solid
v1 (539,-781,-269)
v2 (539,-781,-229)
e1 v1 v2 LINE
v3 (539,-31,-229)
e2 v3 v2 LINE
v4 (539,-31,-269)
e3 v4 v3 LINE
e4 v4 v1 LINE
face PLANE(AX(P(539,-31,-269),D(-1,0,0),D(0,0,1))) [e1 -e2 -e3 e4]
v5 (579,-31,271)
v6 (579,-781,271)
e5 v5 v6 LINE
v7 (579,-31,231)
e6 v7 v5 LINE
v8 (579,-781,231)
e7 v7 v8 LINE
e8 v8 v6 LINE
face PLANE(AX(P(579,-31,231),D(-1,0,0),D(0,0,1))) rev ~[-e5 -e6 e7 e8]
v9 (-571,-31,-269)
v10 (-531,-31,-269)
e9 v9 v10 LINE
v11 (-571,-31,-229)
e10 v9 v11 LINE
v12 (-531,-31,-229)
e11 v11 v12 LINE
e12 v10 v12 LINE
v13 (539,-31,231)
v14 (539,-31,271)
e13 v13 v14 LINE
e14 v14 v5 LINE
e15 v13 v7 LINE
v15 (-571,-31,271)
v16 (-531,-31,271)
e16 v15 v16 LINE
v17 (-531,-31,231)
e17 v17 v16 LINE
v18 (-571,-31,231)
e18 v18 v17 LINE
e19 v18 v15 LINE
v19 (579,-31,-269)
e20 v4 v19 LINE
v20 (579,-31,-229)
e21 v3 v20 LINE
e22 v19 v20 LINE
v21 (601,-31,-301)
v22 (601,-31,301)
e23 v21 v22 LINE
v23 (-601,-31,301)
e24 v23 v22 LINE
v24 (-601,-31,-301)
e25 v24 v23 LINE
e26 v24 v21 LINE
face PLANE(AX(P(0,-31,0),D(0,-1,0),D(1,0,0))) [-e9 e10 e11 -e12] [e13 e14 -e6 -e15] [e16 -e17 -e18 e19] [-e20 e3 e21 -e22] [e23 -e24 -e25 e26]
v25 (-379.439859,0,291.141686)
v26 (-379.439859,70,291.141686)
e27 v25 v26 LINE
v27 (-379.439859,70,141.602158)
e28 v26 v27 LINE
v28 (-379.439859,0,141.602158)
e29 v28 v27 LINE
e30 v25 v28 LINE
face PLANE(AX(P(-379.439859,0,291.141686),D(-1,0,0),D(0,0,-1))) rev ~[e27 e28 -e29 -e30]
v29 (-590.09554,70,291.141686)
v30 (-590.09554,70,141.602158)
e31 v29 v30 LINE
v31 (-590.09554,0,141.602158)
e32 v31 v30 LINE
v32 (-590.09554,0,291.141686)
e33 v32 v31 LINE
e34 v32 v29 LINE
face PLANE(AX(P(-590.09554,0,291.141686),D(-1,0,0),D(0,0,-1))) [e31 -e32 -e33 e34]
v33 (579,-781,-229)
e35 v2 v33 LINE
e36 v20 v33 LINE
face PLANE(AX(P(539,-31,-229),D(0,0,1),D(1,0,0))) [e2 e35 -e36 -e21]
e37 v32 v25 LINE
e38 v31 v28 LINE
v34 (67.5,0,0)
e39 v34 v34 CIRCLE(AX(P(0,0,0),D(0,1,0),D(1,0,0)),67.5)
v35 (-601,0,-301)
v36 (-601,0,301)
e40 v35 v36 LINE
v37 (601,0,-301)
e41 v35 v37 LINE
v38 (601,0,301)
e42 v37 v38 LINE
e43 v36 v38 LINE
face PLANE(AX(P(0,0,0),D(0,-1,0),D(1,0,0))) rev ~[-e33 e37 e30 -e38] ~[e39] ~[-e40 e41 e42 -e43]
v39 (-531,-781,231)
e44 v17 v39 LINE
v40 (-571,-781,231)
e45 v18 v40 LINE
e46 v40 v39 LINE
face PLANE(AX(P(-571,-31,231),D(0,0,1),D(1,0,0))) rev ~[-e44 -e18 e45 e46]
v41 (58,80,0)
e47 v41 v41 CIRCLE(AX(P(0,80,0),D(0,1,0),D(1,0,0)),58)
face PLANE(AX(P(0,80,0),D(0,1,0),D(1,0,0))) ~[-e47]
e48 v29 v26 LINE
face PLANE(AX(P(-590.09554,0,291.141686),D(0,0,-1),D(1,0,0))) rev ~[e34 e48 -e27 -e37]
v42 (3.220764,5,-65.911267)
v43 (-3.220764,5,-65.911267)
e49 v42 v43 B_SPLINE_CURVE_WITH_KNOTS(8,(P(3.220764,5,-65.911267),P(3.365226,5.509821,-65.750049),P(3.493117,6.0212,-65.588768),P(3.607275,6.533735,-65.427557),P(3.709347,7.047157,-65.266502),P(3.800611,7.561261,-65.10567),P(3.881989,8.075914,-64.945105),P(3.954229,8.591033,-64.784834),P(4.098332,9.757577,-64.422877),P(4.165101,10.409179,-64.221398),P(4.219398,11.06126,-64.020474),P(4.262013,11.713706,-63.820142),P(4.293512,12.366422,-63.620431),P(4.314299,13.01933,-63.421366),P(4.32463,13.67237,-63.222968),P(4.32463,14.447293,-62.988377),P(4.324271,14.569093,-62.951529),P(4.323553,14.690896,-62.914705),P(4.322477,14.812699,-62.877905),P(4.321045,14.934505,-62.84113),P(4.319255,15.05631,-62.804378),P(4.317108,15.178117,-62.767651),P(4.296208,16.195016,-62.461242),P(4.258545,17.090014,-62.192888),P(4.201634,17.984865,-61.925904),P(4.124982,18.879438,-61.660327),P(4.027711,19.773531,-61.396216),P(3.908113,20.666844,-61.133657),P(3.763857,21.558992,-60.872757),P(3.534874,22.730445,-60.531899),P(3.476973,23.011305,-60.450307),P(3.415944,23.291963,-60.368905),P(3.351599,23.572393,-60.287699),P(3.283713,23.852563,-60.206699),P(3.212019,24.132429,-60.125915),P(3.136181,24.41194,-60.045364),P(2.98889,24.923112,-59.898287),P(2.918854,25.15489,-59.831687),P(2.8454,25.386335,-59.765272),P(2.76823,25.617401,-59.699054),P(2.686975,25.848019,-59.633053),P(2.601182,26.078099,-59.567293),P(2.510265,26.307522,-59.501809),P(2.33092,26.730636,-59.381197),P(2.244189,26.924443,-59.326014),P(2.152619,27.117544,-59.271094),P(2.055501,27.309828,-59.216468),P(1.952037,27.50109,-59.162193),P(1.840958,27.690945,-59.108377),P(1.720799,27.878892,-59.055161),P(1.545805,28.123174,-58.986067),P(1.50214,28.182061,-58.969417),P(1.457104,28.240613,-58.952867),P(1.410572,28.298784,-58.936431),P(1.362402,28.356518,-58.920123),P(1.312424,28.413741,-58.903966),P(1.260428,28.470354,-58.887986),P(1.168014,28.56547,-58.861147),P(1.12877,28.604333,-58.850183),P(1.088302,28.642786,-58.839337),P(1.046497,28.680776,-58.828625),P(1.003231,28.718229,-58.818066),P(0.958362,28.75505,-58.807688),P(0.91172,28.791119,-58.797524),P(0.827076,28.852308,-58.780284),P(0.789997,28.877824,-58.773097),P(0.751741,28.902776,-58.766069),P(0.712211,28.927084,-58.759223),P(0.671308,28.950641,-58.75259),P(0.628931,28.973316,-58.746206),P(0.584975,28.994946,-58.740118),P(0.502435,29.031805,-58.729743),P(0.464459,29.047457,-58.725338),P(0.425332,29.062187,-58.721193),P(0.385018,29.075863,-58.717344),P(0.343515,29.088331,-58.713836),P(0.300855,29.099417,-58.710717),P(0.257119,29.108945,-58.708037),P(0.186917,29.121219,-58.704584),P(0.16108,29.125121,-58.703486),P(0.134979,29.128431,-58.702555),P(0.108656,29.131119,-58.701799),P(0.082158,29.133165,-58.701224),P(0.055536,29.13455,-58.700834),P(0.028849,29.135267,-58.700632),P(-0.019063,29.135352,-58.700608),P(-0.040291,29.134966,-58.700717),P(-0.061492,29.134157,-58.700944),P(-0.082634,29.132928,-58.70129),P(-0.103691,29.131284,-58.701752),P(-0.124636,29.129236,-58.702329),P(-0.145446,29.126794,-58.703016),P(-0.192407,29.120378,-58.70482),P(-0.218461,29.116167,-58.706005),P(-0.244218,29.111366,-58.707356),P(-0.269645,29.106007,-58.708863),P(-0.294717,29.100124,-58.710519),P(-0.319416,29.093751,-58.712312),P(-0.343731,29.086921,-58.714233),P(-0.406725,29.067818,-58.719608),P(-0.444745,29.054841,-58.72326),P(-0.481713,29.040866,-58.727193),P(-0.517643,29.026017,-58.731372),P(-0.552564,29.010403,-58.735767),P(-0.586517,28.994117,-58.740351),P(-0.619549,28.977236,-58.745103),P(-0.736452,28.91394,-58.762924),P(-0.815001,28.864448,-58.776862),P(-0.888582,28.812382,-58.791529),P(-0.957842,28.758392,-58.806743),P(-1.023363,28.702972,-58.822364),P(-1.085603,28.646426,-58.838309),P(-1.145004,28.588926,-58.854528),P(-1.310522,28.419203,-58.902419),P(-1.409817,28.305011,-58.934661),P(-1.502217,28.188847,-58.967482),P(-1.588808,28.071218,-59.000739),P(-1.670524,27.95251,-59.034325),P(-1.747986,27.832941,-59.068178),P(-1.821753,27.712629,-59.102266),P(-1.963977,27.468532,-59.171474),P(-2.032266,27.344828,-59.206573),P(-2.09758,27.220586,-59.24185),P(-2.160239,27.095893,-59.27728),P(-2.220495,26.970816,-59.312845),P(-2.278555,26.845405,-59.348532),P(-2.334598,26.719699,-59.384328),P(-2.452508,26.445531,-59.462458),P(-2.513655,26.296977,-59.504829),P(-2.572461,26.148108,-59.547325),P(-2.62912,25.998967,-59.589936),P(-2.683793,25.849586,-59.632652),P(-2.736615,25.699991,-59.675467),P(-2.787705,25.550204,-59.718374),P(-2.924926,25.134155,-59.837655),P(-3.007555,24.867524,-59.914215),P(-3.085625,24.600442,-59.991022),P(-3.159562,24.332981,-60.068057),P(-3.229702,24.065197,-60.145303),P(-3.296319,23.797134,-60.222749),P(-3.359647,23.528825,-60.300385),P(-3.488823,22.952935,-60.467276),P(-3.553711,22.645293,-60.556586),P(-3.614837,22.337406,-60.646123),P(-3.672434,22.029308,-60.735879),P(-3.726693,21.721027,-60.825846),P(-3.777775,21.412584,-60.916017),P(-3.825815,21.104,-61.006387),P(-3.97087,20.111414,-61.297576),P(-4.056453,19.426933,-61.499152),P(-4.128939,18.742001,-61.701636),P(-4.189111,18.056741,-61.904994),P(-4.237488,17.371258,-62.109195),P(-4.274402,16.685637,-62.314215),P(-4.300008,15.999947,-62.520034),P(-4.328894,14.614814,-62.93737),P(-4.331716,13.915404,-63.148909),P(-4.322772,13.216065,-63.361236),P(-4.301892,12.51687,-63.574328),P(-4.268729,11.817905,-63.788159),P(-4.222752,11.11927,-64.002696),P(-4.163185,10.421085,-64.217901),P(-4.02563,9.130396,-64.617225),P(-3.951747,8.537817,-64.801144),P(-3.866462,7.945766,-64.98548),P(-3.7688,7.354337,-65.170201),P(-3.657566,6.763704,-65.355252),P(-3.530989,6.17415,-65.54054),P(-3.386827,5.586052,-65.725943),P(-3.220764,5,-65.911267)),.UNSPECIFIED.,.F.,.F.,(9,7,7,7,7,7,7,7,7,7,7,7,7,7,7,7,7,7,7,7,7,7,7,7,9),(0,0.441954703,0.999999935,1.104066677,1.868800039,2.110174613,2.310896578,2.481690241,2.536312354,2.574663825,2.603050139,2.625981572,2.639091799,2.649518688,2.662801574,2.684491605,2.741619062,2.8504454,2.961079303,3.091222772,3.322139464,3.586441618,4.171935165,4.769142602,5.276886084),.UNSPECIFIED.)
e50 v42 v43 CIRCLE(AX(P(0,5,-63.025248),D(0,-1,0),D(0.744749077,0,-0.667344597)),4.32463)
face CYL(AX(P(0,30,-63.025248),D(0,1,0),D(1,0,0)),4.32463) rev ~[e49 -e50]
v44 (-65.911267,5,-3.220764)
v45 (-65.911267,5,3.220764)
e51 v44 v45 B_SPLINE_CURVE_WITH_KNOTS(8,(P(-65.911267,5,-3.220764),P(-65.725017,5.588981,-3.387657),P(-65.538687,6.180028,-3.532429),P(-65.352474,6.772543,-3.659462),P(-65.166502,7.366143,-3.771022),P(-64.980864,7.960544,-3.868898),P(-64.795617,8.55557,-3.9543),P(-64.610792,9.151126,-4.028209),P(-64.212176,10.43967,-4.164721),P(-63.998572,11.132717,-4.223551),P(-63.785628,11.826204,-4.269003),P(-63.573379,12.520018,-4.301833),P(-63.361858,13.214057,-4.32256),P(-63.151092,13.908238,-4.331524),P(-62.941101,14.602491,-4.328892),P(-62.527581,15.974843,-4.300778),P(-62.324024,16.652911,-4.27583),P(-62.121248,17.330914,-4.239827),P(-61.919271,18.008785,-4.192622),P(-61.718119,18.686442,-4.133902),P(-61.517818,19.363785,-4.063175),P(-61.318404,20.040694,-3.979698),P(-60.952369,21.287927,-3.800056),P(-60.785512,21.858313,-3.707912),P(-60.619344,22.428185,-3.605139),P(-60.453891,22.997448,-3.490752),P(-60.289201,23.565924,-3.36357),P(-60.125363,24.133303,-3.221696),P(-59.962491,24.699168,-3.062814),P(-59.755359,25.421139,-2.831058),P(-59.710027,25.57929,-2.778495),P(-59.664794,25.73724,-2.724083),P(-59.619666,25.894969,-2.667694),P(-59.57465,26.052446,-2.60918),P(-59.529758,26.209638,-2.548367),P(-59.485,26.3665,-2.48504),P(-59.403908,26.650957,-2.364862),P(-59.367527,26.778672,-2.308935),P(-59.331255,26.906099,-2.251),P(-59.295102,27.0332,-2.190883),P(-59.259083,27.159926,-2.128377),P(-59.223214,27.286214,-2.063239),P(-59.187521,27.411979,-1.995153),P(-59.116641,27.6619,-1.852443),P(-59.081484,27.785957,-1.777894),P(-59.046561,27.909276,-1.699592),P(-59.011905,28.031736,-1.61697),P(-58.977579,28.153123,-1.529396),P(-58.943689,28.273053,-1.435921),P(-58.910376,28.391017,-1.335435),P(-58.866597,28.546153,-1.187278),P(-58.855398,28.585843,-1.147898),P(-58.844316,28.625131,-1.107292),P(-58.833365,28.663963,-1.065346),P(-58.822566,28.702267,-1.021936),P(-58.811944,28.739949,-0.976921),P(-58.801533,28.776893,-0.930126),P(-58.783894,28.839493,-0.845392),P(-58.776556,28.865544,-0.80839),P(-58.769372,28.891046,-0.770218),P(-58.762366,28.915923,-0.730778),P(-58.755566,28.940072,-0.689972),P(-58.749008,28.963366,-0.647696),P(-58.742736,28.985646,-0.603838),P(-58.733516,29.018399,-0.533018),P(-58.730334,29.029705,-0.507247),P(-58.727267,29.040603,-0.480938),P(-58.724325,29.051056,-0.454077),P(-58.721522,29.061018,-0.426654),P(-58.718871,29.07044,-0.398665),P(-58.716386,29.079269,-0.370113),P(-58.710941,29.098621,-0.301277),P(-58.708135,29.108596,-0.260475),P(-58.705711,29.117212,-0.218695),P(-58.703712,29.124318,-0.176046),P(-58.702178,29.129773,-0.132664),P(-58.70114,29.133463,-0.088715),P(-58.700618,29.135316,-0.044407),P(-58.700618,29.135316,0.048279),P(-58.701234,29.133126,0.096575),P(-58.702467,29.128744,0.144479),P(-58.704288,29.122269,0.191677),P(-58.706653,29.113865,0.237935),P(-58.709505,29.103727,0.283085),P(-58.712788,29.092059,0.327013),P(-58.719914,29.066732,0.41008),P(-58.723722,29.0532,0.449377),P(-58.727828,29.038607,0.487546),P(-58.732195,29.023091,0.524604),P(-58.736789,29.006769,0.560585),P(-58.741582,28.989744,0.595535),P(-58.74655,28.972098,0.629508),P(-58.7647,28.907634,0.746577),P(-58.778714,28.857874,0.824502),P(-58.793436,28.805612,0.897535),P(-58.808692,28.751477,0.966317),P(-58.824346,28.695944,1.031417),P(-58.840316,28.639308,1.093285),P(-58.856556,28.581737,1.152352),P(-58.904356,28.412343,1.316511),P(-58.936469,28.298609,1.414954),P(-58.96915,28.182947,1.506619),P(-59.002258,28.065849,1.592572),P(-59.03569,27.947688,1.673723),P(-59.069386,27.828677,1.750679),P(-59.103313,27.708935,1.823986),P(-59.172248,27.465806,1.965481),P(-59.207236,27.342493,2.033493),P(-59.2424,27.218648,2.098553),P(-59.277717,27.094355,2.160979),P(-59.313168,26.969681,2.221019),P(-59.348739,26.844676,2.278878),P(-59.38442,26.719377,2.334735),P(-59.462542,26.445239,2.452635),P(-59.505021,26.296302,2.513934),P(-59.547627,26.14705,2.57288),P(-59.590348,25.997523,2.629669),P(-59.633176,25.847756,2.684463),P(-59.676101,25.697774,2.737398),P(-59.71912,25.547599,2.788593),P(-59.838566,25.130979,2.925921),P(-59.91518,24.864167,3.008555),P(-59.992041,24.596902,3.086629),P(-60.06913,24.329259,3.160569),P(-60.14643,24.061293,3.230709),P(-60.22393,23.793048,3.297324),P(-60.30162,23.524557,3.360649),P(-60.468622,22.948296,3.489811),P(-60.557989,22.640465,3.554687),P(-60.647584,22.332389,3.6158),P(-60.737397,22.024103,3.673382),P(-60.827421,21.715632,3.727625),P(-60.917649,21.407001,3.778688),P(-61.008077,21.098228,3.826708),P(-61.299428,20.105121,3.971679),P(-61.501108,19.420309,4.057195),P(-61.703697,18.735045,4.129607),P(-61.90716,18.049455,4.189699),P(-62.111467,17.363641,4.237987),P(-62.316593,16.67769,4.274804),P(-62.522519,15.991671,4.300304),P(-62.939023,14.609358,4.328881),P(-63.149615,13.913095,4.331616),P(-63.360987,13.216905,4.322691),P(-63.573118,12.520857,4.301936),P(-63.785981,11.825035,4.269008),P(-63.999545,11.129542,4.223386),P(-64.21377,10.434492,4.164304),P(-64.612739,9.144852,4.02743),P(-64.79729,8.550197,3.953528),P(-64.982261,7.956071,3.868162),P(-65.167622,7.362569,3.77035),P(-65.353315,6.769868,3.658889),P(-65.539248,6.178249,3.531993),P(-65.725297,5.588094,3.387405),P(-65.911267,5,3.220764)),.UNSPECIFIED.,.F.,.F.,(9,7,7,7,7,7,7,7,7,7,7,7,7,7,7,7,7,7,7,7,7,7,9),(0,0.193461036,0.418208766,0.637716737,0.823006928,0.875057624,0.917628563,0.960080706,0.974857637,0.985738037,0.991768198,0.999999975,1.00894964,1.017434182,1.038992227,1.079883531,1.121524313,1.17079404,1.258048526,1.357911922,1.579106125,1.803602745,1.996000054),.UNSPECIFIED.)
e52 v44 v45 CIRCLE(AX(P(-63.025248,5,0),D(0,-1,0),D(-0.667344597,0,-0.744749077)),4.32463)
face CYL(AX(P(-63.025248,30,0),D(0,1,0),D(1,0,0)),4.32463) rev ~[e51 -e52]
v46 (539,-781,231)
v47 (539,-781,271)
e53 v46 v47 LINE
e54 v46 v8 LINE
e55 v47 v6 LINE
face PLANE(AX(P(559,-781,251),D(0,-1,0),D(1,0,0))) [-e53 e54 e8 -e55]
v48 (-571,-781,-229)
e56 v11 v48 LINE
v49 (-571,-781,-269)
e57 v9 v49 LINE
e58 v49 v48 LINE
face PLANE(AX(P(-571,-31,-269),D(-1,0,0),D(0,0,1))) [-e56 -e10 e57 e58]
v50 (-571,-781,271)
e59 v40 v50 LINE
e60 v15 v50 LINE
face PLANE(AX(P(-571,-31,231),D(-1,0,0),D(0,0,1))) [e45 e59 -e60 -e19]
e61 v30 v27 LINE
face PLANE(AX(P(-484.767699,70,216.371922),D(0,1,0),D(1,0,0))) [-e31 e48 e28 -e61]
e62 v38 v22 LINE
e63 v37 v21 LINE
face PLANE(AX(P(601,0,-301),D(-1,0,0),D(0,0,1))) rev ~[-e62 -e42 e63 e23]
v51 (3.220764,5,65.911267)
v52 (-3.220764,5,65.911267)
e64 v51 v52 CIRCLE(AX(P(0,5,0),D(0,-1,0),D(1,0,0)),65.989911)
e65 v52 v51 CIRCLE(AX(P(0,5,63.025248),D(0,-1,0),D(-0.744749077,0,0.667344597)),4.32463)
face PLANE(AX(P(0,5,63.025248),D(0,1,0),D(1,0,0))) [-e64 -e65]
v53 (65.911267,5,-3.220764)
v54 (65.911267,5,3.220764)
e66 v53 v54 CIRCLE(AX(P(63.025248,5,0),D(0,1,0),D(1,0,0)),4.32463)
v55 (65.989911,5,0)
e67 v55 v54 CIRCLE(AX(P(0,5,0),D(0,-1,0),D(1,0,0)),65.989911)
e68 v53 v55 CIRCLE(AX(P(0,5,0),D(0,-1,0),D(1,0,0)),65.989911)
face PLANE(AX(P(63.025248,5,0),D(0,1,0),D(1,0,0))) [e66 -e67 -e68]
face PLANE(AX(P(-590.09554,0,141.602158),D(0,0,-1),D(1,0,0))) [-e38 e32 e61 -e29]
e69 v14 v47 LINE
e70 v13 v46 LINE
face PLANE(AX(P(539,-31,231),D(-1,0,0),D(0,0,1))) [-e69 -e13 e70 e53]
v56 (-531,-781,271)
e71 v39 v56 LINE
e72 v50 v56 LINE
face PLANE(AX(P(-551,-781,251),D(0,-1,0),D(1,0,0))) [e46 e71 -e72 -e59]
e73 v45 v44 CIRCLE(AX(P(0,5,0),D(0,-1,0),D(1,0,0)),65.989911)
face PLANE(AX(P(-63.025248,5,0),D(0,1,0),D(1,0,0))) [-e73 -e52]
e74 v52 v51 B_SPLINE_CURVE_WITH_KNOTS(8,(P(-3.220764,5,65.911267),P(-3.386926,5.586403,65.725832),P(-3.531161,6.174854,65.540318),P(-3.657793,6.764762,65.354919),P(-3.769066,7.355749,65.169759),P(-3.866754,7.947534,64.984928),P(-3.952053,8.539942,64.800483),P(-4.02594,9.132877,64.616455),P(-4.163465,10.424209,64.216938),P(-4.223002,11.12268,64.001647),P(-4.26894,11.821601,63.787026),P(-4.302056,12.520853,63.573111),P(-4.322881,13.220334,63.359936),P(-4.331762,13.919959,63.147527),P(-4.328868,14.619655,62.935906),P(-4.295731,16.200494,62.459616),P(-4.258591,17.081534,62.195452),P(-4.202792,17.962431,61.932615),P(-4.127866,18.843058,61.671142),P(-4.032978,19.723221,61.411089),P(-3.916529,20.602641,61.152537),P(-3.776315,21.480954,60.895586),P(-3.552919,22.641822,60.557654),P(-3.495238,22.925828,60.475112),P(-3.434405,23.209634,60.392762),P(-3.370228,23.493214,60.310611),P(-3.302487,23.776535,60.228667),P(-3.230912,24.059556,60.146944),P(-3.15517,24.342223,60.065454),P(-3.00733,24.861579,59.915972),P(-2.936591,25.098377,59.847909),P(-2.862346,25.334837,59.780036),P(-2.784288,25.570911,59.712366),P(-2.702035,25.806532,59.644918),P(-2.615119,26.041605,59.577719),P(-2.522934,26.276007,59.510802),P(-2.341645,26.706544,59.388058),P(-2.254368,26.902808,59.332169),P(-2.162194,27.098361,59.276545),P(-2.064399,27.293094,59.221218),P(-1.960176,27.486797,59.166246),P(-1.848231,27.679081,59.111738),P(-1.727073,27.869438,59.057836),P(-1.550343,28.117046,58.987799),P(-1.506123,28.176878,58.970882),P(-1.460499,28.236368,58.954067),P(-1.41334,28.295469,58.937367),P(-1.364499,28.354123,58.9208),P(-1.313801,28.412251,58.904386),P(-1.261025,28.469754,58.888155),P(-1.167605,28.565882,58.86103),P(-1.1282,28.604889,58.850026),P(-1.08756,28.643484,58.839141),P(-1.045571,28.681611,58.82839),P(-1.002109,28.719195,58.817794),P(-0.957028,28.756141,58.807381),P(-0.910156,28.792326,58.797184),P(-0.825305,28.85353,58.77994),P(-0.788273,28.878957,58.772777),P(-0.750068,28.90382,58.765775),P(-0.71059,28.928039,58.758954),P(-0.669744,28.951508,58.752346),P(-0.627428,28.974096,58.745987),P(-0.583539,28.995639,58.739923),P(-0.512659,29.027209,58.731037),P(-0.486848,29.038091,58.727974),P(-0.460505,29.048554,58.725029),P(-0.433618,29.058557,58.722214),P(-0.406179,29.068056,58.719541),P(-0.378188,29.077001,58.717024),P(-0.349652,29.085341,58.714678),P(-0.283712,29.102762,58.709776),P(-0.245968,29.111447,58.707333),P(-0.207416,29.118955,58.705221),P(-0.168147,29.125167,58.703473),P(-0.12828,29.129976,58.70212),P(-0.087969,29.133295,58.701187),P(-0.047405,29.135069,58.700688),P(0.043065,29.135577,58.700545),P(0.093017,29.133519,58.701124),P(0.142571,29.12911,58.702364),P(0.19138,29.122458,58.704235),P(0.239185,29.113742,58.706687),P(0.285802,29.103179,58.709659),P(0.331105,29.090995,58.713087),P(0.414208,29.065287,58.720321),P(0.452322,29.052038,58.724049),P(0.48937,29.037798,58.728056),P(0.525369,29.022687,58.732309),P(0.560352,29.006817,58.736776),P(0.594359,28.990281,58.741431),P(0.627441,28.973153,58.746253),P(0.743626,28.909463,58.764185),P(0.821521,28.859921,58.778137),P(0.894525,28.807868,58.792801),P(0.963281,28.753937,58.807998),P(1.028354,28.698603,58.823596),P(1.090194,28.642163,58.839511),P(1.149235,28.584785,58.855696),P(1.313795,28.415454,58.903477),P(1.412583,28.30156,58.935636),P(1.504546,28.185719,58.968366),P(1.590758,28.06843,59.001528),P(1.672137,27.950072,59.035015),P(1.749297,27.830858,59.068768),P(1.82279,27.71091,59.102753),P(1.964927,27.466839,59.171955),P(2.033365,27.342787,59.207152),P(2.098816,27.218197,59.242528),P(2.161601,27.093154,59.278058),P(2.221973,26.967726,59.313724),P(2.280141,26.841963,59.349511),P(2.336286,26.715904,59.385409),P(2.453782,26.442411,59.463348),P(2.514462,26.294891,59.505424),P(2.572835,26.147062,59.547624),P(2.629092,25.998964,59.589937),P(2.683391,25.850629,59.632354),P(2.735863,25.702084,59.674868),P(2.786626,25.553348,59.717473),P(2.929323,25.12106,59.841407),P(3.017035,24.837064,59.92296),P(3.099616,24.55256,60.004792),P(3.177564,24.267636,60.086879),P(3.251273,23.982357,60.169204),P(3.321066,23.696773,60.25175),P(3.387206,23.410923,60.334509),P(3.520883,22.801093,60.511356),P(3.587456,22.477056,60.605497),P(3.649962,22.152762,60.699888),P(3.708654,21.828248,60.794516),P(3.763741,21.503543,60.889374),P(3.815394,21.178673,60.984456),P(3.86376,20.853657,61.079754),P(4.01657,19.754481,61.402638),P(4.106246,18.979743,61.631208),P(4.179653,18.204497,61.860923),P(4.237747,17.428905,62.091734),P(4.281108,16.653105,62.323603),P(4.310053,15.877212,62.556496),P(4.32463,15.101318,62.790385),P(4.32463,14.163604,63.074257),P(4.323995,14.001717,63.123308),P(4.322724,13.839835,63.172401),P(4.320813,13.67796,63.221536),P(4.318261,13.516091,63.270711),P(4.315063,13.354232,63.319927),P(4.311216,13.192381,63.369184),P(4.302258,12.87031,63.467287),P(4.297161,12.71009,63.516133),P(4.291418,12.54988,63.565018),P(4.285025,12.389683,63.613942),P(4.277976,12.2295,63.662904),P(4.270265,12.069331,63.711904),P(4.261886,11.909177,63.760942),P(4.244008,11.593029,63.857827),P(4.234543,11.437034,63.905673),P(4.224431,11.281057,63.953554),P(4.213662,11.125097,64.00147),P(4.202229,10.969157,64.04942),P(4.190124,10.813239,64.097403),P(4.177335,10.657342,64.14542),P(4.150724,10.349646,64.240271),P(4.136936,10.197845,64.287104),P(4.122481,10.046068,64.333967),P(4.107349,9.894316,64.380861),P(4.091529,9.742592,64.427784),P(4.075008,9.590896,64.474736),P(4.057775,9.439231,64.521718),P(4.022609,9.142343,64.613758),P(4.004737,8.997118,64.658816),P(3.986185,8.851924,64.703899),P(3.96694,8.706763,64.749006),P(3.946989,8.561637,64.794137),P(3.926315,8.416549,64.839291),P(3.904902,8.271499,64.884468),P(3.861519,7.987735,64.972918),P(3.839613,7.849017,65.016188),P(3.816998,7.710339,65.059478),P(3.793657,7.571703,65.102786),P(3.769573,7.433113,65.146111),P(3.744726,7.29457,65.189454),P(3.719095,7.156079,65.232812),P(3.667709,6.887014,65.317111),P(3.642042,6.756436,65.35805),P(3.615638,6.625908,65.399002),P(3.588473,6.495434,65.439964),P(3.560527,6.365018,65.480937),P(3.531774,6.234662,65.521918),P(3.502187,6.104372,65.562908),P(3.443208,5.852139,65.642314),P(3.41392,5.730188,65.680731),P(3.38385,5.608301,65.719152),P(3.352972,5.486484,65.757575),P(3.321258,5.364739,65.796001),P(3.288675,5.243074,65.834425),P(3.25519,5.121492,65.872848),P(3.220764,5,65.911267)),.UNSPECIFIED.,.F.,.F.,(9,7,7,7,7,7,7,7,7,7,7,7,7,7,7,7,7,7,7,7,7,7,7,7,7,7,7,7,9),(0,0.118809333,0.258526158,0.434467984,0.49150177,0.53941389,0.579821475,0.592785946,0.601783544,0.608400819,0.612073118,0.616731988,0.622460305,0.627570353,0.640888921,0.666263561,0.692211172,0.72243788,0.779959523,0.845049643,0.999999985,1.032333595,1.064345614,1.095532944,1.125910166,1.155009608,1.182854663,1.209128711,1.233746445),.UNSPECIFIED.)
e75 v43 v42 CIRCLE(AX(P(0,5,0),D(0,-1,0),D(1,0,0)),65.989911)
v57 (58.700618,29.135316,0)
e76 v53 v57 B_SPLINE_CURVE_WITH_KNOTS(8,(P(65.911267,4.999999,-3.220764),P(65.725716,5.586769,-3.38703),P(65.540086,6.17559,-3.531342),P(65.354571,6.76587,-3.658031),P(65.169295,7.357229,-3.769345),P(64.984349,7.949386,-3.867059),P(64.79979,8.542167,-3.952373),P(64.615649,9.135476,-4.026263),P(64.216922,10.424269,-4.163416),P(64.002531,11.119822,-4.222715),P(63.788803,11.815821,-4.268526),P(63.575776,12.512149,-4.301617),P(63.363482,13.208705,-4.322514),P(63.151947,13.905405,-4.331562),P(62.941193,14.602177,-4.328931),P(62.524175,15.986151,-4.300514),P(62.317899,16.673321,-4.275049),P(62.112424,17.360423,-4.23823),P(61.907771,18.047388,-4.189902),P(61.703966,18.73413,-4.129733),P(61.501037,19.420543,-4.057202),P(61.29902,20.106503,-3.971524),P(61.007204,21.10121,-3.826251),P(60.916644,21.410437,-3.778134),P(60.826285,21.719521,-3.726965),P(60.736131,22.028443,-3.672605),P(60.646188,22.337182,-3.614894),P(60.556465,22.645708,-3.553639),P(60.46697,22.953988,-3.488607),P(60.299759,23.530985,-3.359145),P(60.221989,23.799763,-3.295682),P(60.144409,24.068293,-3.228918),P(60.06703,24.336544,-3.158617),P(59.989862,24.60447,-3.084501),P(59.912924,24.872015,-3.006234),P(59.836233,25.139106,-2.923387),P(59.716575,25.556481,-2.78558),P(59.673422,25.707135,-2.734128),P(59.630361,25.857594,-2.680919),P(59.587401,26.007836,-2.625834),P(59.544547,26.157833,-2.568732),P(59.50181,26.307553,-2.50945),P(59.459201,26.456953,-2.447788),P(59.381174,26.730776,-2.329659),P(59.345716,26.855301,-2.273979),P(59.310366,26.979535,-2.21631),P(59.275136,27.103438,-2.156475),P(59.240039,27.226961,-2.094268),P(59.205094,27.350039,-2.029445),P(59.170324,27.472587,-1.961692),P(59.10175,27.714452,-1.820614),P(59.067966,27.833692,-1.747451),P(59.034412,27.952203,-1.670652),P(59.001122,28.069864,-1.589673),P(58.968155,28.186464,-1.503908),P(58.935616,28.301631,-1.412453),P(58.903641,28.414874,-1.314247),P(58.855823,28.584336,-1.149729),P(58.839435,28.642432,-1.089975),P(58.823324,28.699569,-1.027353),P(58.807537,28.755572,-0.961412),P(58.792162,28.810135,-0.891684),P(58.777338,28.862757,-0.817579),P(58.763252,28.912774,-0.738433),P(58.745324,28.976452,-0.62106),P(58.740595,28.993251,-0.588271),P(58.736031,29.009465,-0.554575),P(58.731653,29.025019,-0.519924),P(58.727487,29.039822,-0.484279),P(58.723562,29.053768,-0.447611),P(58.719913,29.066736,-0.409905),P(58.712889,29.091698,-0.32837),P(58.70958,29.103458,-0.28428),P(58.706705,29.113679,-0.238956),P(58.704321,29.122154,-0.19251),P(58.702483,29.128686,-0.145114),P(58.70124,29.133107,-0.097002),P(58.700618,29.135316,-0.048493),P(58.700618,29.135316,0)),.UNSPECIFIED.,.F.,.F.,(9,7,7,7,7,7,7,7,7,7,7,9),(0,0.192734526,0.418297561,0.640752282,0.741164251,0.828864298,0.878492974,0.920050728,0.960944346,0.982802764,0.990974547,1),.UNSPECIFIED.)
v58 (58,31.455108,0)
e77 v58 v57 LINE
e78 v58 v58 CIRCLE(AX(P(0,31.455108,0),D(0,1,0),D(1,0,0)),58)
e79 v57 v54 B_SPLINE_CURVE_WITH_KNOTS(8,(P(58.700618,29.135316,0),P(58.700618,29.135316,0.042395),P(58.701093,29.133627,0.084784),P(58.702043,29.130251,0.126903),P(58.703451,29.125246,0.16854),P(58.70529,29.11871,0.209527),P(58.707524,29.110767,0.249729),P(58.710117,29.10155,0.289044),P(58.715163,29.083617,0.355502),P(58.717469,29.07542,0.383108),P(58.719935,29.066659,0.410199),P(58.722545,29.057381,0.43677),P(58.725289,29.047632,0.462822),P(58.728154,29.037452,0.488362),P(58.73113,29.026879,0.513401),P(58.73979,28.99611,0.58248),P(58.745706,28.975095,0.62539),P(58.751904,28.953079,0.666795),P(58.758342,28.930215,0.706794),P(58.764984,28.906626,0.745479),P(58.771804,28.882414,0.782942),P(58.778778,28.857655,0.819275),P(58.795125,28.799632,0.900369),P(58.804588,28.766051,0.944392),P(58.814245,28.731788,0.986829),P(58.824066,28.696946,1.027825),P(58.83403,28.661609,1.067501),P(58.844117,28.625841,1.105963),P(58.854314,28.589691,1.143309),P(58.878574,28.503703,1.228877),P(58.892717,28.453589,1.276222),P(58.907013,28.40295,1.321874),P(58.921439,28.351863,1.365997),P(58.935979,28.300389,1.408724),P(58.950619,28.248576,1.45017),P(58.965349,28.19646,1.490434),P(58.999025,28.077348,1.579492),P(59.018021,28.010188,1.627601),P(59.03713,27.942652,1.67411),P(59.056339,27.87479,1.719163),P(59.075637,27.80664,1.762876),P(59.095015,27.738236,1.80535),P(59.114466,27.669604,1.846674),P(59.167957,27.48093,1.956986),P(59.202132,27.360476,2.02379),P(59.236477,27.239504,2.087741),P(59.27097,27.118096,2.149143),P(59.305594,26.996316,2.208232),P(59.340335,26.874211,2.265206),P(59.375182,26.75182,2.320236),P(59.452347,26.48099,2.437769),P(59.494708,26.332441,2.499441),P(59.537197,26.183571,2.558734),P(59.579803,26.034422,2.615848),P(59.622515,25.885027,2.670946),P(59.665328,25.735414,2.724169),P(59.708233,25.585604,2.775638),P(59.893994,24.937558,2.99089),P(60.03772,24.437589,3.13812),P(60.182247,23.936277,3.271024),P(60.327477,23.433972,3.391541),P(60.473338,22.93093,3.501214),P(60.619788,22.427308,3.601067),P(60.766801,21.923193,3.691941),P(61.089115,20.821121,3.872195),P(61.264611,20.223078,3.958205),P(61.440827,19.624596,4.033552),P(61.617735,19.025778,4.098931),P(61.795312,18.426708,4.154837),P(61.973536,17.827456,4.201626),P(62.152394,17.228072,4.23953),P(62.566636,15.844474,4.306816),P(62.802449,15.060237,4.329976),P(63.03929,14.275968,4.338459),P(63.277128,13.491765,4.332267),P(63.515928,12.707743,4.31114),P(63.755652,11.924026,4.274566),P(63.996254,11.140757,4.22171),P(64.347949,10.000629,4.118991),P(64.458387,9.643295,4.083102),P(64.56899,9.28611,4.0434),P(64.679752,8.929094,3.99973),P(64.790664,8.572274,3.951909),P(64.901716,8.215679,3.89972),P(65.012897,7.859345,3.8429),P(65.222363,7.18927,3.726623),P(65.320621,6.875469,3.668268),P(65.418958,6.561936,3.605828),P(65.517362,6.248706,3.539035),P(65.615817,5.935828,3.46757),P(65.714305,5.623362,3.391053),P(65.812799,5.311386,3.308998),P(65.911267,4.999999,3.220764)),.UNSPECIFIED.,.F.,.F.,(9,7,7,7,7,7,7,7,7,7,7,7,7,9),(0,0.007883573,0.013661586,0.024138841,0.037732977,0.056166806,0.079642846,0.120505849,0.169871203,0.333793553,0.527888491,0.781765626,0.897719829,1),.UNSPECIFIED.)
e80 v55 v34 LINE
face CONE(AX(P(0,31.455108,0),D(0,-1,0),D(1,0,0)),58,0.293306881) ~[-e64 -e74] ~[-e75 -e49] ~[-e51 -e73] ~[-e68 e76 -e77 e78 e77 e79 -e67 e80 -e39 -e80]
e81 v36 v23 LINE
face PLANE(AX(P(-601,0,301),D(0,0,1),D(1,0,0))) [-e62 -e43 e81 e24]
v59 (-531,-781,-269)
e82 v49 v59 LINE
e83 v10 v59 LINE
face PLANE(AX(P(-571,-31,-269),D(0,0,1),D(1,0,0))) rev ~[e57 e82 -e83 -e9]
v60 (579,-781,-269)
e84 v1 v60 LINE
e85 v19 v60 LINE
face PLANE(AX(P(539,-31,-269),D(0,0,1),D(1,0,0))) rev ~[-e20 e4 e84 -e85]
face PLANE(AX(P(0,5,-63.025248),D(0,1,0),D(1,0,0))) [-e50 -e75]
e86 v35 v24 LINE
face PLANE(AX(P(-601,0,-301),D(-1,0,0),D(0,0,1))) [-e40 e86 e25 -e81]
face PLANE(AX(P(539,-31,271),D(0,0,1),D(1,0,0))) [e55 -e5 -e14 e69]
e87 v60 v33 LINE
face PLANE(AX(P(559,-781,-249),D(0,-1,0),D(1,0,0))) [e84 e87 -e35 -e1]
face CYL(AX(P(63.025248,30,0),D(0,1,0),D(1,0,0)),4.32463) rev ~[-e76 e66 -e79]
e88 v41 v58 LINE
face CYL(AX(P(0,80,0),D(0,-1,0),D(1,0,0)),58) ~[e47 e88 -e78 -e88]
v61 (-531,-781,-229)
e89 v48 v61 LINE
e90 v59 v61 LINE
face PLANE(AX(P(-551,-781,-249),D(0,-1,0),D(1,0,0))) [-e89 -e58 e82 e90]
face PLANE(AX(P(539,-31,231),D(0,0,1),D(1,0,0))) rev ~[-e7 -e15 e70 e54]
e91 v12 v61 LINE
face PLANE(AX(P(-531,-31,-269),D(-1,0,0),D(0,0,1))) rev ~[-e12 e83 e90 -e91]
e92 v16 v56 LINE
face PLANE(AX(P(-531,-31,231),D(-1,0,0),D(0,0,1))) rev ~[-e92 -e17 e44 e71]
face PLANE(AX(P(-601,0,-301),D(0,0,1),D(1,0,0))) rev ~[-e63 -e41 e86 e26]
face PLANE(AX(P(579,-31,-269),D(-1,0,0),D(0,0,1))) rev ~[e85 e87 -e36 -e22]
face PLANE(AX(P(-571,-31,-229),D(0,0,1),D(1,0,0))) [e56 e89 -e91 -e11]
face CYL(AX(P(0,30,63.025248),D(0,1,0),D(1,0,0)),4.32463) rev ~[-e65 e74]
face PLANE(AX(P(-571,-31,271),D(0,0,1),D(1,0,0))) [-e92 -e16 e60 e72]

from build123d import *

# Parameters (mm, degrees)
CORTAR_EXTRUIR1_START   = -50
CROQUIS2_R              = 4.324629937
CORTAR_EXTRUIR1_DEPTH   = 25
CROQUIS3_W              = 1202
CROQUIS3_H              = 602
SALIENTE_EXTRUIR1_DEPTH = 31
CROQUIS4_W              = 40
CROQUIS4_H              = 40
SALIENTE_EXTRUIR2_DEPTH = 750
CROQUIS5_W              = 210.655681701
CROQUIS5_H              = 149.539527133
SALIENTE_EXTRUIR3_DEPTH = 70


with BuildPart() as part:
    # Croquis1 → Revolución1 (revolve)
    with BuildSketch(Plane.XY, mode=Mode.PRIVATE) as revoluci_n1_sk:
        Polygon((0, 0), (0, 80), (-58, 80), (-58, 31.455108359), (-67.5, 0), align=None)
    revolve(revoluci_n1_sk.sketch.rotate(Axis((0, 0, 0), (0, 1, 0)), 180), axis=Axis((0, 0, 0), (0, 1, 0)))

    # Croquis2 → Cortar-Extruir1 (cut)
    with BuildSketch(Plane(origin=(0, 80, 0), x_dir=(1, 0, 0), z_dir=(0, 1, 0)).offset(CORTAR_EXTRUIR1_START)):
        with Locations((0, 63.025248345)):
            Circle(CROQUIS2_R)
        with Locations((63.025248345, 0)):
            Circle(CROQUIS2_R)
        with Locations((0, -63.025248345)):
            Circle(CROQUIS2_R)
        with Locations((-63.025248345, 0)):
            Circle(CROQUIS2_R)
    extrude(amount=-CORTAR_EXTRUIR1_DEPTH, mode=Mode.SUBTRACT)

    # Croquis3 → Saliente-Extruir1 (add)
    with BuildSketch(Plane.XZ):
        Rectangle(CROQUIS3_W, CROQUIS3_H)
    extrude(amount=SALIENTE_EXTRUIR1_DEPTH)

    # Croquis4 → Saliente-Extruir2 (add)
    with BuildSketch(Plane.XZ.offset(31)):
        with Locations((-551, 251)):
            Rectangle(CROQUIS4_W, CROQUIS4_H)
        with Locations((559, 251)):
            Rectangle(CROQUIS4_W, CROQUIS4_H)
        with Locations((559, -249)):
            Rectangle(CROQUIS4_W, CROQUIS4_H)
        with Locations((-551, -249)):
            Rectangle(CROQUIS4_W, CROQUIS4_H)
    extrude(amount=SALIENTE_EXTRUIR2_DEPTH)

    # Croquis5 → Saliente-Extruir3 (add)
    with BuildSketch(Plane(origin=(0, 0, 0), x_dir=(1, 0, 0), z_dir=(0, 1, 0))):
        with Locations((-484.76769938, -216.371921998)):
            Rectangle(CROQUIS5_W, CROQUIS5_H)
    extrude(amount=SALIENTE_EXTRUIR3_DEPTH)


solid = part.part
